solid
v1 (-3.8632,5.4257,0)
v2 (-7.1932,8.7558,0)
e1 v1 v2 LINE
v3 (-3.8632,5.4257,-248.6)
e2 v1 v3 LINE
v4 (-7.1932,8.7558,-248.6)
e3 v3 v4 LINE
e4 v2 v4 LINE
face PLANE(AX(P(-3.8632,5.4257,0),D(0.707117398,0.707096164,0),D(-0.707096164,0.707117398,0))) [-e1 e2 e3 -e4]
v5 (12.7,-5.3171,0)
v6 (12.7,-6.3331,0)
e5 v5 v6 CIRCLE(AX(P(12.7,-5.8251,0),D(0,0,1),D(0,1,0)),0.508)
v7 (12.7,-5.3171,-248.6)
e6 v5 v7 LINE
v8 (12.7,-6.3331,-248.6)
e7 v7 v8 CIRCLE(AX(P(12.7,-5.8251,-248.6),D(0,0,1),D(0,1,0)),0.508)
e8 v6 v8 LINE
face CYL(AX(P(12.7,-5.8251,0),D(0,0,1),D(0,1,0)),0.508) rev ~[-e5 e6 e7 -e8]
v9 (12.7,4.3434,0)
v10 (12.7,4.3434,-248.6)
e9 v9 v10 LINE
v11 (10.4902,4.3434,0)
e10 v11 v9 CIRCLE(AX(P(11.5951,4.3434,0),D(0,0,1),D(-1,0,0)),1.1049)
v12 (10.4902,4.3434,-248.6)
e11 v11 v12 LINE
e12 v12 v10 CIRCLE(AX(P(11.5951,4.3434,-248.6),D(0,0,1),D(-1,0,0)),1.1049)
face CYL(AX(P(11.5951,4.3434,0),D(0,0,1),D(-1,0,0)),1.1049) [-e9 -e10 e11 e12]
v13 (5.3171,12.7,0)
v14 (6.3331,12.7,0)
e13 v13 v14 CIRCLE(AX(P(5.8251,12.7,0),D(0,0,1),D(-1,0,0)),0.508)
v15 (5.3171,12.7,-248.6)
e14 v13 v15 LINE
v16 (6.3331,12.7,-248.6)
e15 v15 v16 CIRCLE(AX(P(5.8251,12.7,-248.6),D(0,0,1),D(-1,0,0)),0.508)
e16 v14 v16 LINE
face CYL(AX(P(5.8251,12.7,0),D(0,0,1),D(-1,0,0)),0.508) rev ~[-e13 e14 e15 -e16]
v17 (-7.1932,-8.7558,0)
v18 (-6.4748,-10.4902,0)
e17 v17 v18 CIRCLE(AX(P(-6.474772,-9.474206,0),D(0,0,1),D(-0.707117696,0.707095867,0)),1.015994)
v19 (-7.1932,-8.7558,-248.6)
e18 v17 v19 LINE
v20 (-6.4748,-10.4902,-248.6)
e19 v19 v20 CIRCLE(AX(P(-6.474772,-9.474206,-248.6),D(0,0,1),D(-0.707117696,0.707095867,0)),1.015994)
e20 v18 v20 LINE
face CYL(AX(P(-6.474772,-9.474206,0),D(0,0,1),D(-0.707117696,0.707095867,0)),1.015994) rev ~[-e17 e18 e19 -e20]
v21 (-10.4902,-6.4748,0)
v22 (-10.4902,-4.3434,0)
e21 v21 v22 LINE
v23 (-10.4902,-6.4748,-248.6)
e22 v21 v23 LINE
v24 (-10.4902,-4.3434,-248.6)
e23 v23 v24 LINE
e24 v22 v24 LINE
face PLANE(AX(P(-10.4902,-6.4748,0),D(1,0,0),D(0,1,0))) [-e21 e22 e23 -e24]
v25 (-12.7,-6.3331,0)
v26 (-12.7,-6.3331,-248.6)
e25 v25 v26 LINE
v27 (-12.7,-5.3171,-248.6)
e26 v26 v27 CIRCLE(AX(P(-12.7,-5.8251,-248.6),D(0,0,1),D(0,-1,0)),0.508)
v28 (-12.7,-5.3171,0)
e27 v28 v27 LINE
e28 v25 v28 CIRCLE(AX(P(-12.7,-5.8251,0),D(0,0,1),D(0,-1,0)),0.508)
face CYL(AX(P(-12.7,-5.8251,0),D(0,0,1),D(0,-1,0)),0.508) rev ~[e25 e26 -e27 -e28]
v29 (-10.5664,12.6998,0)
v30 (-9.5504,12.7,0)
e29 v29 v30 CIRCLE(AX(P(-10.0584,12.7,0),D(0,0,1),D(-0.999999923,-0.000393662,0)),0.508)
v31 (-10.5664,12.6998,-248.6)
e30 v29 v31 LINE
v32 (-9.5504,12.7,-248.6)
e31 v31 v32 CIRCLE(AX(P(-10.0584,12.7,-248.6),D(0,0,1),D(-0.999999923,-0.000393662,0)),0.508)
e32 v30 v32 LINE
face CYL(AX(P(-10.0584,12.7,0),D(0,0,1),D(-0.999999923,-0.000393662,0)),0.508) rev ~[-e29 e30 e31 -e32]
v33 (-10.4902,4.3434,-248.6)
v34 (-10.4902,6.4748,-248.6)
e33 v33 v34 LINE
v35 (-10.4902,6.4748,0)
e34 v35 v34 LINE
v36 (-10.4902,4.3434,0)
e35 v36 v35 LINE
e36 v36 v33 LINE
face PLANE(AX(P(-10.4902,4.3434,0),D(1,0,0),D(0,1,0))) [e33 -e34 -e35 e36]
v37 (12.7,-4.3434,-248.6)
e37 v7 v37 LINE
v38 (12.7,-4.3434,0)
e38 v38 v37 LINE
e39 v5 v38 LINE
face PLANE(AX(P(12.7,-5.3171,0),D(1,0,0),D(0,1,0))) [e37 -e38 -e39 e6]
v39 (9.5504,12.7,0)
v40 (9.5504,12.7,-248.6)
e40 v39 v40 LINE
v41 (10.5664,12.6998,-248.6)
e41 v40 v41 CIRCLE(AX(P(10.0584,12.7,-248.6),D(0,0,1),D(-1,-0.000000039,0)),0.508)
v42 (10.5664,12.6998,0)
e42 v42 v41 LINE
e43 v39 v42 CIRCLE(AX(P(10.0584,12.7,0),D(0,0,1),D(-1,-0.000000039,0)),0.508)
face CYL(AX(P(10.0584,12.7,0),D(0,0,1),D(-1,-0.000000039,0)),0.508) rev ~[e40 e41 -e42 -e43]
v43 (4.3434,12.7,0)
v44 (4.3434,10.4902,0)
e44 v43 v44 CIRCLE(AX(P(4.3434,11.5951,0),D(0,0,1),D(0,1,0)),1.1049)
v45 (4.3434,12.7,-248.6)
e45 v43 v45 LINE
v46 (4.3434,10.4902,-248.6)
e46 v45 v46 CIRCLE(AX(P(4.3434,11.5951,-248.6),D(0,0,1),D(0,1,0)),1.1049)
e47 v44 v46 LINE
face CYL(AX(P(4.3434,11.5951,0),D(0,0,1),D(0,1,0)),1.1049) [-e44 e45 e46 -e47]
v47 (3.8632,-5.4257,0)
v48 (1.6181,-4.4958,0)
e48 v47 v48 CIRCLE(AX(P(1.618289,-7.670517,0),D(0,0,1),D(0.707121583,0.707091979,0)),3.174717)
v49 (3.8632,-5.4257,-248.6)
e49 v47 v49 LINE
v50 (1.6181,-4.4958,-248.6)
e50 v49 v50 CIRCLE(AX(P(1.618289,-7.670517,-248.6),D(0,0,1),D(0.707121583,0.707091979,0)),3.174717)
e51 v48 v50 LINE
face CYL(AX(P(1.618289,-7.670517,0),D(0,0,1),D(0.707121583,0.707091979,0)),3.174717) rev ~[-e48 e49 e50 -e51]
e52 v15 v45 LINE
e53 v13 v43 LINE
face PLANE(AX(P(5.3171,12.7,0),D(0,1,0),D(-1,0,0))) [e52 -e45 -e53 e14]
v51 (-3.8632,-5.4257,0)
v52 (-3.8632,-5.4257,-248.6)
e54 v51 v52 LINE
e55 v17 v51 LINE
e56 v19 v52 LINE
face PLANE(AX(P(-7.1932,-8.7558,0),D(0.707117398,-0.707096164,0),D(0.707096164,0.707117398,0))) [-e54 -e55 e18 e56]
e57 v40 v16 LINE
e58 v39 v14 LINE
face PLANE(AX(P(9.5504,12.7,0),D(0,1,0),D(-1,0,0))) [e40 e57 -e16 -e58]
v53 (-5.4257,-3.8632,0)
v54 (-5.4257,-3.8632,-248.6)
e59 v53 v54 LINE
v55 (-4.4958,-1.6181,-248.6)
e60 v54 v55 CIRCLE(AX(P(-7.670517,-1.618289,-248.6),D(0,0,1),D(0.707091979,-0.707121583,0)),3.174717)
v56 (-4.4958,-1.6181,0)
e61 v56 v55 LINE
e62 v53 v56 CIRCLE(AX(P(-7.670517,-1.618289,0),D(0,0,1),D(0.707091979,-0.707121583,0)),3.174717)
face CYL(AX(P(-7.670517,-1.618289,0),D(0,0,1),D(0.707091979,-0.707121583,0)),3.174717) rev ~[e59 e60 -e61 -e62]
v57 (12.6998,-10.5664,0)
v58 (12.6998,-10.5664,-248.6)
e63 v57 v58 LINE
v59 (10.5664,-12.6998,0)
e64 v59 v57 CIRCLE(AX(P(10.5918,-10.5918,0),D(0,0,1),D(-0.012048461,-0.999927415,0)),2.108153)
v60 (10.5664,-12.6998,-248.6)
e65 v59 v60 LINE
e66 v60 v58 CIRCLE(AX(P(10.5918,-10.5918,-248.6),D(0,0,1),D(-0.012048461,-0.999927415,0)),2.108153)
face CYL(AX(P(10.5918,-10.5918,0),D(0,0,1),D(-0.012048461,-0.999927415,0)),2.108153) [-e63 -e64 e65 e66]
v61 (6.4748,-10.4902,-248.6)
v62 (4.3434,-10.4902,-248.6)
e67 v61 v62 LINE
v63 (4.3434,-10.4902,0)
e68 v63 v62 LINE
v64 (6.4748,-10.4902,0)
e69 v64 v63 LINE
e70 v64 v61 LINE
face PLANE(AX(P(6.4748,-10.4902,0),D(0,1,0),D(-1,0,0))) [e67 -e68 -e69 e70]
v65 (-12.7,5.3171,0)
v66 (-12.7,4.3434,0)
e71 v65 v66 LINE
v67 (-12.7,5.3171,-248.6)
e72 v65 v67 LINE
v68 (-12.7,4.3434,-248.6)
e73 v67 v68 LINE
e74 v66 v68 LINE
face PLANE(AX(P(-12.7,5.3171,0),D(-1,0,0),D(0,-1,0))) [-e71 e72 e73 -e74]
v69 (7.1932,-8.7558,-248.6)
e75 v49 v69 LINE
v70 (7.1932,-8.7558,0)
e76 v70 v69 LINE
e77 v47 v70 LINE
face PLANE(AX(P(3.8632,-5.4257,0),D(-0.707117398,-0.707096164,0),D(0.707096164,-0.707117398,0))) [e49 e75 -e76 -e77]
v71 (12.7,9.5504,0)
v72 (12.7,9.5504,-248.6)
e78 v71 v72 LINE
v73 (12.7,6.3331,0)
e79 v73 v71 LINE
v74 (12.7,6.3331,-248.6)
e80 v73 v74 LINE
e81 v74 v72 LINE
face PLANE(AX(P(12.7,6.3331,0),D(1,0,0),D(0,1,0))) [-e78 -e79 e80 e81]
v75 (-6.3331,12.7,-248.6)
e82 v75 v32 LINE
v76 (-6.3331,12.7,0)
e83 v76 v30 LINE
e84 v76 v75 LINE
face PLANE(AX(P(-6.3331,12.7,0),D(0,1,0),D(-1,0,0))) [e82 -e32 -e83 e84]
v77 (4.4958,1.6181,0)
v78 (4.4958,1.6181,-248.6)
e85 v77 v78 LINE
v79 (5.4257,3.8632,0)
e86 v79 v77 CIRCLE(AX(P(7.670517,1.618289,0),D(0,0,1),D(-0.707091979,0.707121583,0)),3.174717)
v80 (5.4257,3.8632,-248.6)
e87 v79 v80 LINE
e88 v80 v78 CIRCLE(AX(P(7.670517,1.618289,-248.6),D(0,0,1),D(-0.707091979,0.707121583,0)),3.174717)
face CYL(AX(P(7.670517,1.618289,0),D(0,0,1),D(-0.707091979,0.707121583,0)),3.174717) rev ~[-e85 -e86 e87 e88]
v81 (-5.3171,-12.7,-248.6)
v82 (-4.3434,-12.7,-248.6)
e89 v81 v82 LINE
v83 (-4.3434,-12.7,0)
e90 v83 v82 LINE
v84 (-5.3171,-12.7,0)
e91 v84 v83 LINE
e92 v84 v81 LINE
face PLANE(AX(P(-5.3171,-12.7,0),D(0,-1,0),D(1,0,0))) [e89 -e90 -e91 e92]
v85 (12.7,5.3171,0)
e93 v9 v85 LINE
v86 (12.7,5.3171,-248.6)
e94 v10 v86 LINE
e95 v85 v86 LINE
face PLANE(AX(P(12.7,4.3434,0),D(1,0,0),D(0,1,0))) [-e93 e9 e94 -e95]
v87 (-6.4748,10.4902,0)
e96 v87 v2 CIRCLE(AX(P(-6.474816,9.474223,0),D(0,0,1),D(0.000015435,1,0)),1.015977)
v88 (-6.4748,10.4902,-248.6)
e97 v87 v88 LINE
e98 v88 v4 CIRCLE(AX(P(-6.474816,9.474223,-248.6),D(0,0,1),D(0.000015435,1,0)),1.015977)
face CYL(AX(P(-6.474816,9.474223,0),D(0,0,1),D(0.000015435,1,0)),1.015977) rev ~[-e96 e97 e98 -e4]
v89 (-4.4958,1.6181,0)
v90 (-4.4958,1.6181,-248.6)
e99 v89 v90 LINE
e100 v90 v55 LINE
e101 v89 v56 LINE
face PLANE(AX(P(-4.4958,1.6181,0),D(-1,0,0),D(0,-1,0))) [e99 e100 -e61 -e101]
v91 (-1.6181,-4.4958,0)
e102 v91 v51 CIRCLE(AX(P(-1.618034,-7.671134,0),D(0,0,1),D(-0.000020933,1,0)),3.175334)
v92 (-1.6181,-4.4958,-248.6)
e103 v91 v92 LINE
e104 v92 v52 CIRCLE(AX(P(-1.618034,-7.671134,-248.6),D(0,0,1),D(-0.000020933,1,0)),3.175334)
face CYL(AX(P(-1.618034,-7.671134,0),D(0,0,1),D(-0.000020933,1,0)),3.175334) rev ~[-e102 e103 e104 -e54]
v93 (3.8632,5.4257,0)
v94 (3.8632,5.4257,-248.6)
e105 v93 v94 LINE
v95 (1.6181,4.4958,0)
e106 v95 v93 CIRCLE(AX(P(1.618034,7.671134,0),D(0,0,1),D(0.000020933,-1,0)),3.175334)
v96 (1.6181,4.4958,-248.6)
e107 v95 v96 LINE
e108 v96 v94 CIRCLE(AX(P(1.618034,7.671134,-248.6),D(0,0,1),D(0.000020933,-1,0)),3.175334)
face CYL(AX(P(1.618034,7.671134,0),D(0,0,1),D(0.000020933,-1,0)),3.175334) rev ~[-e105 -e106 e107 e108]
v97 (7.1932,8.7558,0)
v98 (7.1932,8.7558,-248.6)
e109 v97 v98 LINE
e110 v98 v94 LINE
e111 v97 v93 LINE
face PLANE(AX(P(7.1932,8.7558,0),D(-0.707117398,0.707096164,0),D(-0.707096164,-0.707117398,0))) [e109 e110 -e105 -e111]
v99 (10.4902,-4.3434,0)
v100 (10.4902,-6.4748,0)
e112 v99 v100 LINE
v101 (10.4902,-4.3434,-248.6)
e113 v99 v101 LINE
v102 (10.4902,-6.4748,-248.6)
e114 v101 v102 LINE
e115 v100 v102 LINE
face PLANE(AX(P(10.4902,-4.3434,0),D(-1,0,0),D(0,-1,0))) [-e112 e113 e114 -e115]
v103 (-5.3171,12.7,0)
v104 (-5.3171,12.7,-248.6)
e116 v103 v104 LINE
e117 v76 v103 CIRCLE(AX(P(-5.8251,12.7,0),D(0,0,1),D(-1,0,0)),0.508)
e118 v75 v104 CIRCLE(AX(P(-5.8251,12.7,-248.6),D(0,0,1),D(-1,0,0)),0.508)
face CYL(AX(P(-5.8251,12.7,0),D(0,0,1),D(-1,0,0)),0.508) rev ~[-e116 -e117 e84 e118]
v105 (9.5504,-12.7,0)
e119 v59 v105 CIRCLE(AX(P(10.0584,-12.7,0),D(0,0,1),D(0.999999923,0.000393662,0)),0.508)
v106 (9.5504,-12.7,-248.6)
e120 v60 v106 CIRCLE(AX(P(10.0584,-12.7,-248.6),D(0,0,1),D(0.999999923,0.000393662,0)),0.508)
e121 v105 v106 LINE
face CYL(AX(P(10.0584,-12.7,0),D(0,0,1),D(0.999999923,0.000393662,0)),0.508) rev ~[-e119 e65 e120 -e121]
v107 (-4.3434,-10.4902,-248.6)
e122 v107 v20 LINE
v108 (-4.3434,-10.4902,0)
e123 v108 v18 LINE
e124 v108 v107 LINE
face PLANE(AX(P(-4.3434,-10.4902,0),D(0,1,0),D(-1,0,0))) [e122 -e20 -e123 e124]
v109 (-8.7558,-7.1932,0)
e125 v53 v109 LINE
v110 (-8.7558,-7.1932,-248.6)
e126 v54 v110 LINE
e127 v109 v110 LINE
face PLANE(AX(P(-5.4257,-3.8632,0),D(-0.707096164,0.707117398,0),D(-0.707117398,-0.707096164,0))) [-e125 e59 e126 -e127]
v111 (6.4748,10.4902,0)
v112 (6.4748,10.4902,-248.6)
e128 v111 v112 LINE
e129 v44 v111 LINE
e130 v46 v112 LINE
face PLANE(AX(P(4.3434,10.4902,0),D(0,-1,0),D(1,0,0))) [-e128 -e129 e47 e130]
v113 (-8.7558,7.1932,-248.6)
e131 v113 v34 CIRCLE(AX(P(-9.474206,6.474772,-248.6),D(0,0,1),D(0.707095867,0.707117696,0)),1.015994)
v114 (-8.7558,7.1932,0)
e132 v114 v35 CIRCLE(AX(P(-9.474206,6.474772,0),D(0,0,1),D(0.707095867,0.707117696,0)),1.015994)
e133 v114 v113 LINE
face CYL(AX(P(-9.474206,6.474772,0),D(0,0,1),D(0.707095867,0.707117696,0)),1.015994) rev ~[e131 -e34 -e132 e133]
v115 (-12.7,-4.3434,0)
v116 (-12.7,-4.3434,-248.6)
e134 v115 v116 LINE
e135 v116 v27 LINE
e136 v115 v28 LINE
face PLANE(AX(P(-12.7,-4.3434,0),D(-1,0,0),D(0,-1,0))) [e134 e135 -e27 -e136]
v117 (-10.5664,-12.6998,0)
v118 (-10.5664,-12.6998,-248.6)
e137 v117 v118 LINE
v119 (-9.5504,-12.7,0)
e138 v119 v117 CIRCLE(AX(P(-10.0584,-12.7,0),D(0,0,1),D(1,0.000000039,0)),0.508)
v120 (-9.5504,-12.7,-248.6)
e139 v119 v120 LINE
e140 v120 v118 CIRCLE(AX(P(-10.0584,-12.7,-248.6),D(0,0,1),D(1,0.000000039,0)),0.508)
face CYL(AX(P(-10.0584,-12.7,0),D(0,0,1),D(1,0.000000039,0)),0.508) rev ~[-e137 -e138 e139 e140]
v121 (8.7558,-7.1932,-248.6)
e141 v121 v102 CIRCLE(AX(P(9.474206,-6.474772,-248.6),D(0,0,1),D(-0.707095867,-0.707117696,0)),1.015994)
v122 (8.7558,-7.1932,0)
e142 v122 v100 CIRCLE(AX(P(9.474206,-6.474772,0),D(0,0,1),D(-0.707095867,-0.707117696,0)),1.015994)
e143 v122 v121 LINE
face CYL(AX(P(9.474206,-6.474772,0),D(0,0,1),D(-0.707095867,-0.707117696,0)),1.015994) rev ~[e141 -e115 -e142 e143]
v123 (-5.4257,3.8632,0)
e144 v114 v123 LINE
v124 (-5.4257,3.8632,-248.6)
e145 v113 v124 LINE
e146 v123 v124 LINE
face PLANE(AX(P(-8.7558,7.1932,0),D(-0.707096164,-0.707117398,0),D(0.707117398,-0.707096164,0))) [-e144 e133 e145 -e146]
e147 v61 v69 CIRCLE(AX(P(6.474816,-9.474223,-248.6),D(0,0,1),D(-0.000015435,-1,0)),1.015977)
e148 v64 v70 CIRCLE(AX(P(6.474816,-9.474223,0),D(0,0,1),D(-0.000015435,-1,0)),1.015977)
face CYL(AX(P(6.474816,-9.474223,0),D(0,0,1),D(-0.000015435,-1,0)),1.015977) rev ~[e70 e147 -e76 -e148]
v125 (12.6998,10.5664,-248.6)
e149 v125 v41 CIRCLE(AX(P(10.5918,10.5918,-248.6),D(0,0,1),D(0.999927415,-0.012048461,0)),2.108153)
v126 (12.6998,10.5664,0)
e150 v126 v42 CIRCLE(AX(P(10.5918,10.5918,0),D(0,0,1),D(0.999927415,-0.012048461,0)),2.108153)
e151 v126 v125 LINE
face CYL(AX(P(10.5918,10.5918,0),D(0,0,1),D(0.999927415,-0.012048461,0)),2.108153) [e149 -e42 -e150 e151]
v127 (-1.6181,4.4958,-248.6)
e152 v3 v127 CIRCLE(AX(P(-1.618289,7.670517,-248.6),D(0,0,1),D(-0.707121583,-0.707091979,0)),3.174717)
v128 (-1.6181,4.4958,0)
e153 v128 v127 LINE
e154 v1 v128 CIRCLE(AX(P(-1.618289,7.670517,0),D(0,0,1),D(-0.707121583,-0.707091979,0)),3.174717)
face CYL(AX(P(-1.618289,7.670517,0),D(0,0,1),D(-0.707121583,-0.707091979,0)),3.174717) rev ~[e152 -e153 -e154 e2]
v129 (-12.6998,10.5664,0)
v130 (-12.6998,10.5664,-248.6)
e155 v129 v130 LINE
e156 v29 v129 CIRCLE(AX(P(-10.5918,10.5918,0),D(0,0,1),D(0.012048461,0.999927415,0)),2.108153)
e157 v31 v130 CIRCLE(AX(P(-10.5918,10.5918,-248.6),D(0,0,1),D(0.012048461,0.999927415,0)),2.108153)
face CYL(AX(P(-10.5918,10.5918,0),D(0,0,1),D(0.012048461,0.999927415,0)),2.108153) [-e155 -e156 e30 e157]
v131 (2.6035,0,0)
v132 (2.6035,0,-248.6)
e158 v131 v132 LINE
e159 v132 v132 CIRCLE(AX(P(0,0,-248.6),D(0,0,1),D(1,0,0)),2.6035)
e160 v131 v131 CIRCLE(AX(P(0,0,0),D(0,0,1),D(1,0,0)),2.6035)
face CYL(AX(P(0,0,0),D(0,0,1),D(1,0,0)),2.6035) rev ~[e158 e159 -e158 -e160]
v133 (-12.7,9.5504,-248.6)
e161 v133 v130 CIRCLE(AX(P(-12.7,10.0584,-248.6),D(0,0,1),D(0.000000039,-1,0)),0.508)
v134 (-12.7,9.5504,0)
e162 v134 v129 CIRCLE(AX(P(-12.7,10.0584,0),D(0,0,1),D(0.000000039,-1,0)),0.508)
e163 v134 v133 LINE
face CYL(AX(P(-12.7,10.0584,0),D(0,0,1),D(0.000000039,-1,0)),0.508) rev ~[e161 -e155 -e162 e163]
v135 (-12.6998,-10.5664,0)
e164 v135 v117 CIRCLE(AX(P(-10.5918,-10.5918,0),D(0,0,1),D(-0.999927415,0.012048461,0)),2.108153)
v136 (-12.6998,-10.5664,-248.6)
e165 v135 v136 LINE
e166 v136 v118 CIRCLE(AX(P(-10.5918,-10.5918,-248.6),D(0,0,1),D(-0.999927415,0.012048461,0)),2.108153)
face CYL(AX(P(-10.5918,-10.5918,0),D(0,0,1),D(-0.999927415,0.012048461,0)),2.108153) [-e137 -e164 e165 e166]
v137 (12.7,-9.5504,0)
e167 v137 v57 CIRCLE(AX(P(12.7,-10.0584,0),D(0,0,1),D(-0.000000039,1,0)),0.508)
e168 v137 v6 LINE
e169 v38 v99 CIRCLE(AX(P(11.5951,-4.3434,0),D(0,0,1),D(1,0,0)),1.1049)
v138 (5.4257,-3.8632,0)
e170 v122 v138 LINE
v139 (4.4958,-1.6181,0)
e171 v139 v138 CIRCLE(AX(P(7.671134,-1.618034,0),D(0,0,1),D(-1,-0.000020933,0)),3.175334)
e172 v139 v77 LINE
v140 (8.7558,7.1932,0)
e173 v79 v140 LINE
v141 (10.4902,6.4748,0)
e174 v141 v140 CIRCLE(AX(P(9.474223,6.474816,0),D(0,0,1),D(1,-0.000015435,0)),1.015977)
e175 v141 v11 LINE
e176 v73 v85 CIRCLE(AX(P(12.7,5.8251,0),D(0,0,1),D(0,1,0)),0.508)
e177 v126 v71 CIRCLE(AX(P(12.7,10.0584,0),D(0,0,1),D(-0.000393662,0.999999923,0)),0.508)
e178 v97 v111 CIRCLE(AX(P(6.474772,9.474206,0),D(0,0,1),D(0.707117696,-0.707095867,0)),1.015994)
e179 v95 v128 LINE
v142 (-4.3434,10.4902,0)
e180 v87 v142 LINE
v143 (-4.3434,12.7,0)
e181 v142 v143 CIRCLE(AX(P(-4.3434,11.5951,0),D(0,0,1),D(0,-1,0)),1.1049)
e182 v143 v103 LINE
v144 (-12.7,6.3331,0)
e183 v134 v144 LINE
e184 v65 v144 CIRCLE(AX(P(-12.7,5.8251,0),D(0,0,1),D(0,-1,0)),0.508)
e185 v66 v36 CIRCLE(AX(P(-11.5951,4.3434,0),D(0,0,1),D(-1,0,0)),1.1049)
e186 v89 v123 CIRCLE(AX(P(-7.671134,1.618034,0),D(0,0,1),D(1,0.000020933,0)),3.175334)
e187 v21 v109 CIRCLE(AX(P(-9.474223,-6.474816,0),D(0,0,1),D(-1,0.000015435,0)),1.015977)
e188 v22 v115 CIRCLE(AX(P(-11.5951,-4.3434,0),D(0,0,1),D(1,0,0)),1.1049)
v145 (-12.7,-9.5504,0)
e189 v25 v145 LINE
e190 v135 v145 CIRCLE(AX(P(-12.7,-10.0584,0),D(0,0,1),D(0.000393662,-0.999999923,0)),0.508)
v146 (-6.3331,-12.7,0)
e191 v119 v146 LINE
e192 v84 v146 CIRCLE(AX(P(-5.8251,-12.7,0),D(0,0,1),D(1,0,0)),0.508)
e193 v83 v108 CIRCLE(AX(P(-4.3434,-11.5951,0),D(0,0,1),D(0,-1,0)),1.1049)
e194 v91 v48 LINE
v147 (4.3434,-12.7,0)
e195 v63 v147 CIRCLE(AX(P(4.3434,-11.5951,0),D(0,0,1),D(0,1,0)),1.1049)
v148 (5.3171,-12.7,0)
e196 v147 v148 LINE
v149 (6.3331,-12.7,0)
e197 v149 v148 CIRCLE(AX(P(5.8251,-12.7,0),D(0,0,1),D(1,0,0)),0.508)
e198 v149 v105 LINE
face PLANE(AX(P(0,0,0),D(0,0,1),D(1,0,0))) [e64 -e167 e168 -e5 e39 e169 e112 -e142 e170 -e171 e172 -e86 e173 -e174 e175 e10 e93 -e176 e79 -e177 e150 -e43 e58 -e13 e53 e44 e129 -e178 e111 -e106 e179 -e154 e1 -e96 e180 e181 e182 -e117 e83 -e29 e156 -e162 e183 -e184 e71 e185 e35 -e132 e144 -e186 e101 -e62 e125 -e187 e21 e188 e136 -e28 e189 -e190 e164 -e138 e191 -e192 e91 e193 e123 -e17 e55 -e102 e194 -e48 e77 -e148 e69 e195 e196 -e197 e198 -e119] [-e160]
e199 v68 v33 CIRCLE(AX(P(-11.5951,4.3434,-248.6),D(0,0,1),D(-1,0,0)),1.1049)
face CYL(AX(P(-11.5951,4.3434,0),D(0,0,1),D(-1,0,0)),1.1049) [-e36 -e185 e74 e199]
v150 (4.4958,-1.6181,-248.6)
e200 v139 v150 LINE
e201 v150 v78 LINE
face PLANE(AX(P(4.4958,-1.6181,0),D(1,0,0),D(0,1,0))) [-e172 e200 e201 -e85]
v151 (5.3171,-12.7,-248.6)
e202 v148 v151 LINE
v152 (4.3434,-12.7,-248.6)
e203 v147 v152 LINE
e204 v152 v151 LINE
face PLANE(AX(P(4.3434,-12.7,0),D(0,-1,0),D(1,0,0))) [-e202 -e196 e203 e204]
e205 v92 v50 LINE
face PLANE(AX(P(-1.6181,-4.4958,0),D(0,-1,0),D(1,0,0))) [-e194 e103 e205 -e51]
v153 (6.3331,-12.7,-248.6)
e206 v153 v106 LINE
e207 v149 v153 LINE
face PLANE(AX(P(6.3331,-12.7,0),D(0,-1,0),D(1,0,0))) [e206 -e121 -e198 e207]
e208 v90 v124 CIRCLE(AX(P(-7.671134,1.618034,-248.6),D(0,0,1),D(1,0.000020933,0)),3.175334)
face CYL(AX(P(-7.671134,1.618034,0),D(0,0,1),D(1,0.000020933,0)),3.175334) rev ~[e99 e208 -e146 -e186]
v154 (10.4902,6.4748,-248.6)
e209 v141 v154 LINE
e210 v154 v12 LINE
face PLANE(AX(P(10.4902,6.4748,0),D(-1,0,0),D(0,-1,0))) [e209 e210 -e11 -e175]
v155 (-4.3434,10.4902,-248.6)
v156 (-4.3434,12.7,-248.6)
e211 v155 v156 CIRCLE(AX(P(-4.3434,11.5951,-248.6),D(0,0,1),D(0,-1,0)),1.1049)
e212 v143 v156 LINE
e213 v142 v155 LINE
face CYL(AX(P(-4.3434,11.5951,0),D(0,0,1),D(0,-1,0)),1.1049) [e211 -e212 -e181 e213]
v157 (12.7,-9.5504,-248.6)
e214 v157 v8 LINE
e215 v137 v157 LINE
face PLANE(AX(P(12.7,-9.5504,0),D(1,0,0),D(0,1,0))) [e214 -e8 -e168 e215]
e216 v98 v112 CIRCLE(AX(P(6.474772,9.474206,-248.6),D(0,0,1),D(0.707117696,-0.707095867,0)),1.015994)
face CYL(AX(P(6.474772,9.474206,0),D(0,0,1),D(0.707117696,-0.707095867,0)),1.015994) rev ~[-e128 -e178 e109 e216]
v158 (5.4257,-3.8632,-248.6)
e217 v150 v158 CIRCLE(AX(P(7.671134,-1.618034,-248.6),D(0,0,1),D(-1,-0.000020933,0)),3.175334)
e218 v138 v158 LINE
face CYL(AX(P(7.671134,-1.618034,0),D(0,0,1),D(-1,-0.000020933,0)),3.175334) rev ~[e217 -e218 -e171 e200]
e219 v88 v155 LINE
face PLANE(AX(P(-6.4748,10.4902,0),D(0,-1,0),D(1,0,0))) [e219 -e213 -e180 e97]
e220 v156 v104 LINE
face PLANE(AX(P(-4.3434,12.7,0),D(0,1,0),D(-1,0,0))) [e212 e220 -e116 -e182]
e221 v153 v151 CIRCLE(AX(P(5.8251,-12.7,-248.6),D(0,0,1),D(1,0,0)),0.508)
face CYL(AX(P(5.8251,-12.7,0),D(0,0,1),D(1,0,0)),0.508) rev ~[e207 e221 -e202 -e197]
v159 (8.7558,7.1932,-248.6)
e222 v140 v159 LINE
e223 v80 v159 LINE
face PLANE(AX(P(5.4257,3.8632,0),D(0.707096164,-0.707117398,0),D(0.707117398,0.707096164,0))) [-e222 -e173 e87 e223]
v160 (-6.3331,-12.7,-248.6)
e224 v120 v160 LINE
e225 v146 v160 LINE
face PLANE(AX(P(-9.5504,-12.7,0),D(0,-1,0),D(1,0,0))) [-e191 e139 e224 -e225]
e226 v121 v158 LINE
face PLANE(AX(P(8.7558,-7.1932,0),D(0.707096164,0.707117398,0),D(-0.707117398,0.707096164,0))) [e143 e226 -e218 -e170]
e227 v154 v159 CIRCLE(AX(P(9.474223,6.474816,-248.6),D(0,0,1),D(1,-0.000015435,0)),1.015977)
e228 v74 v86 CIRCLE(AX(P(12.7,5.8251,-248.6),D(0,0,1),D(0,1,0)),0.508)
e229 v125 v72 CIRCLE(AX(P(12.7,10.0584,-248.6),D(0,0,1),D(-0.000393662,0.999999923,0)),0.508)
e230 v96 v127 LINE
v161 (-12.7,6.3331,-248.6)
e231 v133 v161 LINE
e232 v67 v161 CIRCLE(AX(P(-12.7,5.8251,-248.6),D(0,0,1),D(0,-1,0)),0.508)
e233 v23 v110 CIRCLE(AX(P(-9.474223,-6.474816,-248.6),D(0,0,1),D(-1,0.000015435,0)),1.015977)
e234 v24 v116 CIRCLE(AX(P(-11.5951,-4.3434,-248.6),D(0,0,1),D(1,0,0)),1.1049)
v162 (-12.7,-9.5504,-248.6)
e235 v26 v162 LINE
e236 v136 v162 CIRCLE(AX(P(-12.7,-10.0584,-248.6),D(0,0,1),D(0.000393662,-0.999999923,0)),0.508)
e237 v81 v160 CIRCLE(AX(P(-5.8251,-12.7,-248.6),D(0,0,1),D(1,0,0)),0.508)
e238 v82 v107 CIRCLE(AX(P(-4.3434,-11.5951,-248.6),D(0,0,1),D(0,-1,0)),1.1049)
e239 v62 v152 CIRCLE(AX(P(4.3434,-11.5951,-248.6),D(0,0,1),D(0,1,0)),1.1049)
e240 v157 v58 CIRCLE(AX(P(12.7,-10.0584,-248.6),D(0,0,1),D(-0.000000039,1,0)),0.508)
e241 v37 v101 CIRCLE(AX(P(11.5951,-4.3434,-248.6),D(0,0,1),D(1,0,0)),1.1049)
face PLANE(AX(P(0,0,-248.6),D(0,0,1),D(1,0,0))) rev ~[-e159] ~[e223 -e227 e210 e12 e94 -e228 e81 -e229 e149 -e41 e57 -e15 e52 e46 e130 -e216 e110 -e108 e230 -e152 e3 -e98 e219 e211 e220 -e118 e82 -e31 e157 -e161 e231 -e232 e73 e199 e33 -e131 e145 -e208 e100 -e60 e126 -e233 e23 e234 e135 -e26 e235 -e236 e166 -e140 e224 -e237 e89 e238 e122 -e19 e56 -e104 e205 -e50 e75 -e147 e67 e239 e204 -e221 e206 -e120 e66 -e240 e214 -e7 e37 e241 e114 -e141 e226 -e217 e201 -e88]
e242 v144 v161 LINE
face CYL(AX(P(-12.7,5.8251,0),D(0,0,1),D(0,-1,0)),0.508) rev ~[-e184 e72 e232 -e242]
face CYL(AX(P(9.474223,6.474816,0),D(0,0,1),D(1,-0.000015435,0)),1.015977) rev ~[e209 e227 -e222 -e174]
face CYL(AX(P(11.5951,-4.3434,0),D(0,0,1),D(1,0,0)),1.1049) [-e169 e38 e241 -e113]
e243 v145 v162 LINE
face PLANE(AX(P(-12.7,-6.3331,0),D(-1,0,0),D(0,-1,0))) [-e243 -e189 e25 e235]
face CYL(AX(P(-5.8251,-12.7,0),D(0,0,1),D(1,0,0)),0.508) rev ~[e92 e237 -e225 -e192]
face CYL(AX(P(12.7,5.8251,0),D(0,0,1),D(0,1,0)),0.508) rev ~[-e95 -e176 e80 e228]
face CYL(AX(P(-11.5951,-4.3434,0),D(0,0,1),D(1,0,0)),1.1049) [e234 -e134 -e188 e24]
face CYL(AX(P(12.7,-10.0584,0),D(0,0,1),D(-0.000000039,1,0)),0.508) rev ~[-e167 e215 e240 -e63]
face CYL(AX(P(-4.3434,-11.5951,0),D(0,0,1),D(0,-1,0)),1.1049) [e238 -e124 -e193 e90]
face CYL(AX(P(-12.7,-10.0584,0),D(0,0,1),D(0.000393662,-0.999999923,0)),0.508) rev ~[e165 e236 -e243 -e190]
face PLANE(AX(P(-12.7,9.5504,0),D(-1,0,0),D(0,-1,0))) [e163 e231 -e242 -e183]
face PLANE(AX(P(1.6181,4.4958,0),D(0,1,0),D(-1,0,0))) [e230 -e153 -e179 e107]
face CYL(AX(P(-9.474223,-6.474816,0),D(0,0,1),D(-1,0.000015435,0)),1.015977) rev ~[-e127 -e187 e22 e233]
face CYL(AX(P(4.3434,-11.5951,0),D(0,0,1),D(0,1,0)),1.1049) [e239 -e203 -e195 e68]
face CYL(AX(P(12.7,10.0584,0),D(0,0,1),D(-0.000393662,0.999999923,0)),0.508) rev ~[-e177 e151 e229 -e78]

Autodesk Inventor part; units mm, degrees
sketch "Sketch_1" plane through (0, 0, 0) normal (0, 0, 1) x (1, 0, 0)
  arc A0 (-12.6998, -10.5664) -> (-10.5664, -12.6998) centre (-10.5918, -10.5918) ccw
  arc A1 (-9.5504, -12.7) -> (-10.5664, -12.6998) centre (-10.0584, -12.7) ccw
  line L0 (-9.5504, -12.7) -> (-6.3331, -12.7)
  arc A2 (-5.3171, -12.7) -> (-6.3331, -12.7) centre (-5.8251, -12.7) ccw
  line L1 (-5.3171, -12.7) -> (-4.3434, -12.7)
  arc A3 (-4.3434, -12.7) -> (-4.3434, -10.4902) centre (-4.3434, -11.5951) ccw
  line L2 (-4.3434, -10.4902) -> (-6.4748, -10.4902)
  arc A4 (-7.1932, -8.7558) -> (-6.4748, -10.4902) centre (-6.4748, -9.4742) ccw
  line L3 (-7.1932, -8.7558) -> (-3.8632, -5.4257)
  arc A5 (-1.6181, -4.4958) -> (-3.8632, -5.4257) centre (-1.6181, -7.6708) ccw
  line L4 (-1.6181, -4.4958) -> (1.6181, -4.4958)
  arc A6 (3.8632, -5.4257) -> (1.6181, -4.4958) centre (1.6181, -7.6708) ccw
  line L5 (3.8632, -5.4257) -> (7.1932, -8.7558)
  arc A7 (6.4748, -10.4902) -> (7.1932, -8.7558) centre (6.4748, -9.4742) ccw
  line L6 (6.4748, -10.4902) -> (4.3434, -10.4902)
  arc A8 (4.3434, -10.4902) -> (4.3434, -12.7) centre (4.3434, -11.5951) ccw
  line L7 (4.3434, -12.7) -> (5.3171, -12.7)
  arc A9 (6.3331, -12.7) -> (5.3171, -12.7) centre (5.8251, -12.7) ccw
  line L8 (6.3331, -12.7) -> (9.5504, -12.7)
  arc A10 (10.5664, -12.6998) -> (9.5504, -12.7) centre (10.0584, -12.7) ccw
  arc A11 (10.5664, -12.6998) -> (12.6998, -10.5664) centre (10.5918, -10.5918) ccw
  arc A12 (12.7, -9.5504) -> (12.6998, -10.5664) centre (12.7, -10.0584) ccw
  line L9 (12.7, -9.5504) -> (12.7, -6.3331)
  arc A13 (12.7, -5.3171) -> (12.7, -6.3331) centre (12.7, -5.8251) ccw
  line L10 (12.7, -5.3171) -> (12.7, -4.3434)
  arc A14 (12.7, -4.3434) -> (10.4902, -4.3434) centre (11.5951, -4.3434) ccw
  line L11 (10.4902, -4.3434) -> (10.4902, -6.4748)
  arc A15 (8.7558, -7.1932) -> (10.4902, -6.4748) centre (9.4742, -6.4748) ccw
  line L12 (8.7558, -7.1932) -> (5.4257, -3.8632)
  arc A16 (4.4958, -1.6181) -> (5.4257, -3.8632) centre (7.6708, -1.6181) ccw
  line L13 (4.4958, -1.6181) -> (4.4958, 1.6181)
  arc A17 (5.4257, 3.8632) -> (4.4958, 1.6181) centre (7.6708, 1.6181) ccw
  line L14 (5.4257, 3.8632) -> (8.7558, 7.1932)
  arc A18 (10.4902, 6.4748) -> (8.7558, 7.1932) centre (9.4742, 6.4748) ccw
  line L15 (10.4902, 6.4748) -> (10.4902, 4.3434)
  arc A19 (10.4902, 4.3434) -> (12.7, 4.3434) centre (11.5951, 4.3434) ccw
  line L16 (12.7, 4.3434) -> (12.7, 5.3171)
  arc A20 (12.7, 6.3331) -> (12.7, 5.3171) centre (12.7, 5.8251) ccw
  line L17 (12.7, 6.3331) -> (12.7, 9.5504)
  arc A21 (12.6998, 10.5664) -> (12.7, 9.5504) centre (12.7, 10.0584) ccw
  arc A22 (12.6998, 10.5664) -> (10.5664, 12.6998) centre (10.5918, 10.5918) ccw
  arc A23 (9.5504, 12.7) -> (10.5664, 12.6998) centre (10.0584, 12.7) ccw
  line L18 (9.5504, 12.7) -> (6.3331, 12.7)
  arc A24 (5.3171, 12.7) -> (6.3331, 12.7) centre (5.8251, 12.7) ccw
  line L19 (5.3171, 12.7) -> (4.3434, 12.7)
  arc A25 (4.3434, 12.7) -> (4.3434, 10.4902) centre (4.3434, 11.5951) ccw
  line L20 (4.3434, 10.4902) -> (6.4748, 10.4902)
  arc A26 (7.1932, 8.7558) -> (6.4748, 10.4902) centre (6.4748, 9.4742) ccw
  line L21 (7.1932, 8.7558) -> (3.8632, 5.4257)
  arc A27 (1.6181, 4.4958) -> (3.8632, 5.4257) centre (1.6181, 7.6708) ccw
  line L22 (1.6181, 4.4958) -> (-1.6181, 4.4958)
  arc A28 (-3.8632, 5.4257) -> (-1.6181, 4.4958) centre (-1.6181, 7.6708) ccw
  line L23 (-3.8632, 5.4257) -> (-7.1932, 8.7558)
  arc A29 (-6.4748, 10.4902) -> (-7.1932, 8.7558) centre (-6.4748, 9.4742) ccw
  line L24 (-6.4748, 10.4902) -> (-4.3434, 10.4902)
  arc A30 (-4.3434, 10.4902) -> (-4.3434, 12.7) centre (-4.3434, 11.5951) ccw
  line L25 (-4.3434, 12.7) -> (-5.3171, 12.7)
  arc A31 (-6.3331, 12.7) -> (-5.3171, 12.7) centre (-5.8251, 12.7) ccw
  line L26 (-6.3331, 12.7) -> (-9.5504, 12.7)
  arc A32 (-10.5664, 12.6998) -> (-9.5504, 12.7) centre (-10.0584, 12.7) ccw
  arc A33 (-10.5664, 12.6998) -> (-12.6998, 10.5664) centre (-10.5918, 10.5918) ccw
  arc A34 (-12.7, 9.5504) -> (-12.6998, 10.5664) centre (-12.7, 10.0584) ccw
  line L27 (-12.7, 9.5504) -> (-12.7, 6.3331)
  arc A35 (-12.7, 5.3171) -> (-12.7, 6.3331) centre (-12.7, 5.8251) ccw
  line L28 (-12.7, 5.3171) -> (-12.7, 4.3434)
  arc A36 (-12.7, 4.3434) -> (-10.4902, 4.3434) centre (-11.5951, 4.3434) ccw
  line L29 (-10.4902, 4.3434) -> (-10.4902, 6.4748)
  arc A37 (-8.7558, 7.1932) -> (-10.4902, 6.4748) centre (-9.4742, 6.4748) ccw
  line L30 (-8.7558, 7.1932) -> (-5.4257, 3.8632)
  arc A38 (-4.4958, 1.6181) -> (-5.4257, 3.8632) centre (-7.6708, 1.6181) ccw
  line L31 (-4.4958, 1.6181) -> (-4.4958, -1.6181)
  arc A39 (-5.4257, -3.8632) -> (-4.4958, -1.6181) centre (-7.6708, -1.6181) ccw
  line L32 (-5.4257, -3.8632) -> (-8.7558, -7.1932)
  arc A40 (-10.4902, -6.4748) -> (-8.7558, -7.1932) centre (-9.4742, -6.4748) ccw
  line L33 (-10.4902, -6.4748) -> (-10.4902, -4.3434)
  arc A41 (-10.4902, -4.3434) -> (-12.7, -4.3434) centre (-11.5951, -4.3434) ccw
  line L34 (-12.7, -4.3434) -> (-12.7, -5.3171)
  arc A42 (-12.7, -6.3331) -> (-12.7, -5.3171) centre (-12.7, -5.8251) ccw
  line L35 (-12.7, -6.3331) -> (-12.7, -9.5504)
  arc A43 (-12.6998, -10.5664) -> (-12.7, -9.5504) centre (-12.7, -10.0584) ccw
  circle A44 centre (0, 0) radius 2.6035
extrude "Extrusion1" add sketch "Sketch_1" against normal blind 248.6
ref_plane "b1_XY" through (-12.7, 0, -12.7) normal (1, 0, 0) x (0, 0, -1)
ref_plane "b1_YZ" through (-12.7, 0, -12.7) normal (0, 0, -1) x (0, 1, 0)
ref_plane "b1_ZX" through (-12.7, 0, -12.7) normal (0, 1, 0) x (1, 0, 0)
ref_plane "b2_XY" through (12.7, 0, -12.7) normal (1, 0, 0) x (0, 0, -1)
ref_plane "b2_YZ" through (12.7, 0, -12.7) normal (0, 0, -1) x (0, 1, 0)
ref_plane "b2_ZX" through (12.7, 0, -12.7) normal (0, 1, 0) x (1, 0, 0)
ref_plane "profile1010_XY" through (0, 0, -12.7) normal (0, 0, 1) x (1, 0, 0)
ref_plane "profile1010_YZ" through (0, 0, -12.7) normal (1, 0, 0) x (0, 1, 0)
ref_plane "profile1010_ZX" through (0, 0, -12.7) normal (0, 1, 0) x (0, 0, 1)
properties part number "1010_248_6mm"
